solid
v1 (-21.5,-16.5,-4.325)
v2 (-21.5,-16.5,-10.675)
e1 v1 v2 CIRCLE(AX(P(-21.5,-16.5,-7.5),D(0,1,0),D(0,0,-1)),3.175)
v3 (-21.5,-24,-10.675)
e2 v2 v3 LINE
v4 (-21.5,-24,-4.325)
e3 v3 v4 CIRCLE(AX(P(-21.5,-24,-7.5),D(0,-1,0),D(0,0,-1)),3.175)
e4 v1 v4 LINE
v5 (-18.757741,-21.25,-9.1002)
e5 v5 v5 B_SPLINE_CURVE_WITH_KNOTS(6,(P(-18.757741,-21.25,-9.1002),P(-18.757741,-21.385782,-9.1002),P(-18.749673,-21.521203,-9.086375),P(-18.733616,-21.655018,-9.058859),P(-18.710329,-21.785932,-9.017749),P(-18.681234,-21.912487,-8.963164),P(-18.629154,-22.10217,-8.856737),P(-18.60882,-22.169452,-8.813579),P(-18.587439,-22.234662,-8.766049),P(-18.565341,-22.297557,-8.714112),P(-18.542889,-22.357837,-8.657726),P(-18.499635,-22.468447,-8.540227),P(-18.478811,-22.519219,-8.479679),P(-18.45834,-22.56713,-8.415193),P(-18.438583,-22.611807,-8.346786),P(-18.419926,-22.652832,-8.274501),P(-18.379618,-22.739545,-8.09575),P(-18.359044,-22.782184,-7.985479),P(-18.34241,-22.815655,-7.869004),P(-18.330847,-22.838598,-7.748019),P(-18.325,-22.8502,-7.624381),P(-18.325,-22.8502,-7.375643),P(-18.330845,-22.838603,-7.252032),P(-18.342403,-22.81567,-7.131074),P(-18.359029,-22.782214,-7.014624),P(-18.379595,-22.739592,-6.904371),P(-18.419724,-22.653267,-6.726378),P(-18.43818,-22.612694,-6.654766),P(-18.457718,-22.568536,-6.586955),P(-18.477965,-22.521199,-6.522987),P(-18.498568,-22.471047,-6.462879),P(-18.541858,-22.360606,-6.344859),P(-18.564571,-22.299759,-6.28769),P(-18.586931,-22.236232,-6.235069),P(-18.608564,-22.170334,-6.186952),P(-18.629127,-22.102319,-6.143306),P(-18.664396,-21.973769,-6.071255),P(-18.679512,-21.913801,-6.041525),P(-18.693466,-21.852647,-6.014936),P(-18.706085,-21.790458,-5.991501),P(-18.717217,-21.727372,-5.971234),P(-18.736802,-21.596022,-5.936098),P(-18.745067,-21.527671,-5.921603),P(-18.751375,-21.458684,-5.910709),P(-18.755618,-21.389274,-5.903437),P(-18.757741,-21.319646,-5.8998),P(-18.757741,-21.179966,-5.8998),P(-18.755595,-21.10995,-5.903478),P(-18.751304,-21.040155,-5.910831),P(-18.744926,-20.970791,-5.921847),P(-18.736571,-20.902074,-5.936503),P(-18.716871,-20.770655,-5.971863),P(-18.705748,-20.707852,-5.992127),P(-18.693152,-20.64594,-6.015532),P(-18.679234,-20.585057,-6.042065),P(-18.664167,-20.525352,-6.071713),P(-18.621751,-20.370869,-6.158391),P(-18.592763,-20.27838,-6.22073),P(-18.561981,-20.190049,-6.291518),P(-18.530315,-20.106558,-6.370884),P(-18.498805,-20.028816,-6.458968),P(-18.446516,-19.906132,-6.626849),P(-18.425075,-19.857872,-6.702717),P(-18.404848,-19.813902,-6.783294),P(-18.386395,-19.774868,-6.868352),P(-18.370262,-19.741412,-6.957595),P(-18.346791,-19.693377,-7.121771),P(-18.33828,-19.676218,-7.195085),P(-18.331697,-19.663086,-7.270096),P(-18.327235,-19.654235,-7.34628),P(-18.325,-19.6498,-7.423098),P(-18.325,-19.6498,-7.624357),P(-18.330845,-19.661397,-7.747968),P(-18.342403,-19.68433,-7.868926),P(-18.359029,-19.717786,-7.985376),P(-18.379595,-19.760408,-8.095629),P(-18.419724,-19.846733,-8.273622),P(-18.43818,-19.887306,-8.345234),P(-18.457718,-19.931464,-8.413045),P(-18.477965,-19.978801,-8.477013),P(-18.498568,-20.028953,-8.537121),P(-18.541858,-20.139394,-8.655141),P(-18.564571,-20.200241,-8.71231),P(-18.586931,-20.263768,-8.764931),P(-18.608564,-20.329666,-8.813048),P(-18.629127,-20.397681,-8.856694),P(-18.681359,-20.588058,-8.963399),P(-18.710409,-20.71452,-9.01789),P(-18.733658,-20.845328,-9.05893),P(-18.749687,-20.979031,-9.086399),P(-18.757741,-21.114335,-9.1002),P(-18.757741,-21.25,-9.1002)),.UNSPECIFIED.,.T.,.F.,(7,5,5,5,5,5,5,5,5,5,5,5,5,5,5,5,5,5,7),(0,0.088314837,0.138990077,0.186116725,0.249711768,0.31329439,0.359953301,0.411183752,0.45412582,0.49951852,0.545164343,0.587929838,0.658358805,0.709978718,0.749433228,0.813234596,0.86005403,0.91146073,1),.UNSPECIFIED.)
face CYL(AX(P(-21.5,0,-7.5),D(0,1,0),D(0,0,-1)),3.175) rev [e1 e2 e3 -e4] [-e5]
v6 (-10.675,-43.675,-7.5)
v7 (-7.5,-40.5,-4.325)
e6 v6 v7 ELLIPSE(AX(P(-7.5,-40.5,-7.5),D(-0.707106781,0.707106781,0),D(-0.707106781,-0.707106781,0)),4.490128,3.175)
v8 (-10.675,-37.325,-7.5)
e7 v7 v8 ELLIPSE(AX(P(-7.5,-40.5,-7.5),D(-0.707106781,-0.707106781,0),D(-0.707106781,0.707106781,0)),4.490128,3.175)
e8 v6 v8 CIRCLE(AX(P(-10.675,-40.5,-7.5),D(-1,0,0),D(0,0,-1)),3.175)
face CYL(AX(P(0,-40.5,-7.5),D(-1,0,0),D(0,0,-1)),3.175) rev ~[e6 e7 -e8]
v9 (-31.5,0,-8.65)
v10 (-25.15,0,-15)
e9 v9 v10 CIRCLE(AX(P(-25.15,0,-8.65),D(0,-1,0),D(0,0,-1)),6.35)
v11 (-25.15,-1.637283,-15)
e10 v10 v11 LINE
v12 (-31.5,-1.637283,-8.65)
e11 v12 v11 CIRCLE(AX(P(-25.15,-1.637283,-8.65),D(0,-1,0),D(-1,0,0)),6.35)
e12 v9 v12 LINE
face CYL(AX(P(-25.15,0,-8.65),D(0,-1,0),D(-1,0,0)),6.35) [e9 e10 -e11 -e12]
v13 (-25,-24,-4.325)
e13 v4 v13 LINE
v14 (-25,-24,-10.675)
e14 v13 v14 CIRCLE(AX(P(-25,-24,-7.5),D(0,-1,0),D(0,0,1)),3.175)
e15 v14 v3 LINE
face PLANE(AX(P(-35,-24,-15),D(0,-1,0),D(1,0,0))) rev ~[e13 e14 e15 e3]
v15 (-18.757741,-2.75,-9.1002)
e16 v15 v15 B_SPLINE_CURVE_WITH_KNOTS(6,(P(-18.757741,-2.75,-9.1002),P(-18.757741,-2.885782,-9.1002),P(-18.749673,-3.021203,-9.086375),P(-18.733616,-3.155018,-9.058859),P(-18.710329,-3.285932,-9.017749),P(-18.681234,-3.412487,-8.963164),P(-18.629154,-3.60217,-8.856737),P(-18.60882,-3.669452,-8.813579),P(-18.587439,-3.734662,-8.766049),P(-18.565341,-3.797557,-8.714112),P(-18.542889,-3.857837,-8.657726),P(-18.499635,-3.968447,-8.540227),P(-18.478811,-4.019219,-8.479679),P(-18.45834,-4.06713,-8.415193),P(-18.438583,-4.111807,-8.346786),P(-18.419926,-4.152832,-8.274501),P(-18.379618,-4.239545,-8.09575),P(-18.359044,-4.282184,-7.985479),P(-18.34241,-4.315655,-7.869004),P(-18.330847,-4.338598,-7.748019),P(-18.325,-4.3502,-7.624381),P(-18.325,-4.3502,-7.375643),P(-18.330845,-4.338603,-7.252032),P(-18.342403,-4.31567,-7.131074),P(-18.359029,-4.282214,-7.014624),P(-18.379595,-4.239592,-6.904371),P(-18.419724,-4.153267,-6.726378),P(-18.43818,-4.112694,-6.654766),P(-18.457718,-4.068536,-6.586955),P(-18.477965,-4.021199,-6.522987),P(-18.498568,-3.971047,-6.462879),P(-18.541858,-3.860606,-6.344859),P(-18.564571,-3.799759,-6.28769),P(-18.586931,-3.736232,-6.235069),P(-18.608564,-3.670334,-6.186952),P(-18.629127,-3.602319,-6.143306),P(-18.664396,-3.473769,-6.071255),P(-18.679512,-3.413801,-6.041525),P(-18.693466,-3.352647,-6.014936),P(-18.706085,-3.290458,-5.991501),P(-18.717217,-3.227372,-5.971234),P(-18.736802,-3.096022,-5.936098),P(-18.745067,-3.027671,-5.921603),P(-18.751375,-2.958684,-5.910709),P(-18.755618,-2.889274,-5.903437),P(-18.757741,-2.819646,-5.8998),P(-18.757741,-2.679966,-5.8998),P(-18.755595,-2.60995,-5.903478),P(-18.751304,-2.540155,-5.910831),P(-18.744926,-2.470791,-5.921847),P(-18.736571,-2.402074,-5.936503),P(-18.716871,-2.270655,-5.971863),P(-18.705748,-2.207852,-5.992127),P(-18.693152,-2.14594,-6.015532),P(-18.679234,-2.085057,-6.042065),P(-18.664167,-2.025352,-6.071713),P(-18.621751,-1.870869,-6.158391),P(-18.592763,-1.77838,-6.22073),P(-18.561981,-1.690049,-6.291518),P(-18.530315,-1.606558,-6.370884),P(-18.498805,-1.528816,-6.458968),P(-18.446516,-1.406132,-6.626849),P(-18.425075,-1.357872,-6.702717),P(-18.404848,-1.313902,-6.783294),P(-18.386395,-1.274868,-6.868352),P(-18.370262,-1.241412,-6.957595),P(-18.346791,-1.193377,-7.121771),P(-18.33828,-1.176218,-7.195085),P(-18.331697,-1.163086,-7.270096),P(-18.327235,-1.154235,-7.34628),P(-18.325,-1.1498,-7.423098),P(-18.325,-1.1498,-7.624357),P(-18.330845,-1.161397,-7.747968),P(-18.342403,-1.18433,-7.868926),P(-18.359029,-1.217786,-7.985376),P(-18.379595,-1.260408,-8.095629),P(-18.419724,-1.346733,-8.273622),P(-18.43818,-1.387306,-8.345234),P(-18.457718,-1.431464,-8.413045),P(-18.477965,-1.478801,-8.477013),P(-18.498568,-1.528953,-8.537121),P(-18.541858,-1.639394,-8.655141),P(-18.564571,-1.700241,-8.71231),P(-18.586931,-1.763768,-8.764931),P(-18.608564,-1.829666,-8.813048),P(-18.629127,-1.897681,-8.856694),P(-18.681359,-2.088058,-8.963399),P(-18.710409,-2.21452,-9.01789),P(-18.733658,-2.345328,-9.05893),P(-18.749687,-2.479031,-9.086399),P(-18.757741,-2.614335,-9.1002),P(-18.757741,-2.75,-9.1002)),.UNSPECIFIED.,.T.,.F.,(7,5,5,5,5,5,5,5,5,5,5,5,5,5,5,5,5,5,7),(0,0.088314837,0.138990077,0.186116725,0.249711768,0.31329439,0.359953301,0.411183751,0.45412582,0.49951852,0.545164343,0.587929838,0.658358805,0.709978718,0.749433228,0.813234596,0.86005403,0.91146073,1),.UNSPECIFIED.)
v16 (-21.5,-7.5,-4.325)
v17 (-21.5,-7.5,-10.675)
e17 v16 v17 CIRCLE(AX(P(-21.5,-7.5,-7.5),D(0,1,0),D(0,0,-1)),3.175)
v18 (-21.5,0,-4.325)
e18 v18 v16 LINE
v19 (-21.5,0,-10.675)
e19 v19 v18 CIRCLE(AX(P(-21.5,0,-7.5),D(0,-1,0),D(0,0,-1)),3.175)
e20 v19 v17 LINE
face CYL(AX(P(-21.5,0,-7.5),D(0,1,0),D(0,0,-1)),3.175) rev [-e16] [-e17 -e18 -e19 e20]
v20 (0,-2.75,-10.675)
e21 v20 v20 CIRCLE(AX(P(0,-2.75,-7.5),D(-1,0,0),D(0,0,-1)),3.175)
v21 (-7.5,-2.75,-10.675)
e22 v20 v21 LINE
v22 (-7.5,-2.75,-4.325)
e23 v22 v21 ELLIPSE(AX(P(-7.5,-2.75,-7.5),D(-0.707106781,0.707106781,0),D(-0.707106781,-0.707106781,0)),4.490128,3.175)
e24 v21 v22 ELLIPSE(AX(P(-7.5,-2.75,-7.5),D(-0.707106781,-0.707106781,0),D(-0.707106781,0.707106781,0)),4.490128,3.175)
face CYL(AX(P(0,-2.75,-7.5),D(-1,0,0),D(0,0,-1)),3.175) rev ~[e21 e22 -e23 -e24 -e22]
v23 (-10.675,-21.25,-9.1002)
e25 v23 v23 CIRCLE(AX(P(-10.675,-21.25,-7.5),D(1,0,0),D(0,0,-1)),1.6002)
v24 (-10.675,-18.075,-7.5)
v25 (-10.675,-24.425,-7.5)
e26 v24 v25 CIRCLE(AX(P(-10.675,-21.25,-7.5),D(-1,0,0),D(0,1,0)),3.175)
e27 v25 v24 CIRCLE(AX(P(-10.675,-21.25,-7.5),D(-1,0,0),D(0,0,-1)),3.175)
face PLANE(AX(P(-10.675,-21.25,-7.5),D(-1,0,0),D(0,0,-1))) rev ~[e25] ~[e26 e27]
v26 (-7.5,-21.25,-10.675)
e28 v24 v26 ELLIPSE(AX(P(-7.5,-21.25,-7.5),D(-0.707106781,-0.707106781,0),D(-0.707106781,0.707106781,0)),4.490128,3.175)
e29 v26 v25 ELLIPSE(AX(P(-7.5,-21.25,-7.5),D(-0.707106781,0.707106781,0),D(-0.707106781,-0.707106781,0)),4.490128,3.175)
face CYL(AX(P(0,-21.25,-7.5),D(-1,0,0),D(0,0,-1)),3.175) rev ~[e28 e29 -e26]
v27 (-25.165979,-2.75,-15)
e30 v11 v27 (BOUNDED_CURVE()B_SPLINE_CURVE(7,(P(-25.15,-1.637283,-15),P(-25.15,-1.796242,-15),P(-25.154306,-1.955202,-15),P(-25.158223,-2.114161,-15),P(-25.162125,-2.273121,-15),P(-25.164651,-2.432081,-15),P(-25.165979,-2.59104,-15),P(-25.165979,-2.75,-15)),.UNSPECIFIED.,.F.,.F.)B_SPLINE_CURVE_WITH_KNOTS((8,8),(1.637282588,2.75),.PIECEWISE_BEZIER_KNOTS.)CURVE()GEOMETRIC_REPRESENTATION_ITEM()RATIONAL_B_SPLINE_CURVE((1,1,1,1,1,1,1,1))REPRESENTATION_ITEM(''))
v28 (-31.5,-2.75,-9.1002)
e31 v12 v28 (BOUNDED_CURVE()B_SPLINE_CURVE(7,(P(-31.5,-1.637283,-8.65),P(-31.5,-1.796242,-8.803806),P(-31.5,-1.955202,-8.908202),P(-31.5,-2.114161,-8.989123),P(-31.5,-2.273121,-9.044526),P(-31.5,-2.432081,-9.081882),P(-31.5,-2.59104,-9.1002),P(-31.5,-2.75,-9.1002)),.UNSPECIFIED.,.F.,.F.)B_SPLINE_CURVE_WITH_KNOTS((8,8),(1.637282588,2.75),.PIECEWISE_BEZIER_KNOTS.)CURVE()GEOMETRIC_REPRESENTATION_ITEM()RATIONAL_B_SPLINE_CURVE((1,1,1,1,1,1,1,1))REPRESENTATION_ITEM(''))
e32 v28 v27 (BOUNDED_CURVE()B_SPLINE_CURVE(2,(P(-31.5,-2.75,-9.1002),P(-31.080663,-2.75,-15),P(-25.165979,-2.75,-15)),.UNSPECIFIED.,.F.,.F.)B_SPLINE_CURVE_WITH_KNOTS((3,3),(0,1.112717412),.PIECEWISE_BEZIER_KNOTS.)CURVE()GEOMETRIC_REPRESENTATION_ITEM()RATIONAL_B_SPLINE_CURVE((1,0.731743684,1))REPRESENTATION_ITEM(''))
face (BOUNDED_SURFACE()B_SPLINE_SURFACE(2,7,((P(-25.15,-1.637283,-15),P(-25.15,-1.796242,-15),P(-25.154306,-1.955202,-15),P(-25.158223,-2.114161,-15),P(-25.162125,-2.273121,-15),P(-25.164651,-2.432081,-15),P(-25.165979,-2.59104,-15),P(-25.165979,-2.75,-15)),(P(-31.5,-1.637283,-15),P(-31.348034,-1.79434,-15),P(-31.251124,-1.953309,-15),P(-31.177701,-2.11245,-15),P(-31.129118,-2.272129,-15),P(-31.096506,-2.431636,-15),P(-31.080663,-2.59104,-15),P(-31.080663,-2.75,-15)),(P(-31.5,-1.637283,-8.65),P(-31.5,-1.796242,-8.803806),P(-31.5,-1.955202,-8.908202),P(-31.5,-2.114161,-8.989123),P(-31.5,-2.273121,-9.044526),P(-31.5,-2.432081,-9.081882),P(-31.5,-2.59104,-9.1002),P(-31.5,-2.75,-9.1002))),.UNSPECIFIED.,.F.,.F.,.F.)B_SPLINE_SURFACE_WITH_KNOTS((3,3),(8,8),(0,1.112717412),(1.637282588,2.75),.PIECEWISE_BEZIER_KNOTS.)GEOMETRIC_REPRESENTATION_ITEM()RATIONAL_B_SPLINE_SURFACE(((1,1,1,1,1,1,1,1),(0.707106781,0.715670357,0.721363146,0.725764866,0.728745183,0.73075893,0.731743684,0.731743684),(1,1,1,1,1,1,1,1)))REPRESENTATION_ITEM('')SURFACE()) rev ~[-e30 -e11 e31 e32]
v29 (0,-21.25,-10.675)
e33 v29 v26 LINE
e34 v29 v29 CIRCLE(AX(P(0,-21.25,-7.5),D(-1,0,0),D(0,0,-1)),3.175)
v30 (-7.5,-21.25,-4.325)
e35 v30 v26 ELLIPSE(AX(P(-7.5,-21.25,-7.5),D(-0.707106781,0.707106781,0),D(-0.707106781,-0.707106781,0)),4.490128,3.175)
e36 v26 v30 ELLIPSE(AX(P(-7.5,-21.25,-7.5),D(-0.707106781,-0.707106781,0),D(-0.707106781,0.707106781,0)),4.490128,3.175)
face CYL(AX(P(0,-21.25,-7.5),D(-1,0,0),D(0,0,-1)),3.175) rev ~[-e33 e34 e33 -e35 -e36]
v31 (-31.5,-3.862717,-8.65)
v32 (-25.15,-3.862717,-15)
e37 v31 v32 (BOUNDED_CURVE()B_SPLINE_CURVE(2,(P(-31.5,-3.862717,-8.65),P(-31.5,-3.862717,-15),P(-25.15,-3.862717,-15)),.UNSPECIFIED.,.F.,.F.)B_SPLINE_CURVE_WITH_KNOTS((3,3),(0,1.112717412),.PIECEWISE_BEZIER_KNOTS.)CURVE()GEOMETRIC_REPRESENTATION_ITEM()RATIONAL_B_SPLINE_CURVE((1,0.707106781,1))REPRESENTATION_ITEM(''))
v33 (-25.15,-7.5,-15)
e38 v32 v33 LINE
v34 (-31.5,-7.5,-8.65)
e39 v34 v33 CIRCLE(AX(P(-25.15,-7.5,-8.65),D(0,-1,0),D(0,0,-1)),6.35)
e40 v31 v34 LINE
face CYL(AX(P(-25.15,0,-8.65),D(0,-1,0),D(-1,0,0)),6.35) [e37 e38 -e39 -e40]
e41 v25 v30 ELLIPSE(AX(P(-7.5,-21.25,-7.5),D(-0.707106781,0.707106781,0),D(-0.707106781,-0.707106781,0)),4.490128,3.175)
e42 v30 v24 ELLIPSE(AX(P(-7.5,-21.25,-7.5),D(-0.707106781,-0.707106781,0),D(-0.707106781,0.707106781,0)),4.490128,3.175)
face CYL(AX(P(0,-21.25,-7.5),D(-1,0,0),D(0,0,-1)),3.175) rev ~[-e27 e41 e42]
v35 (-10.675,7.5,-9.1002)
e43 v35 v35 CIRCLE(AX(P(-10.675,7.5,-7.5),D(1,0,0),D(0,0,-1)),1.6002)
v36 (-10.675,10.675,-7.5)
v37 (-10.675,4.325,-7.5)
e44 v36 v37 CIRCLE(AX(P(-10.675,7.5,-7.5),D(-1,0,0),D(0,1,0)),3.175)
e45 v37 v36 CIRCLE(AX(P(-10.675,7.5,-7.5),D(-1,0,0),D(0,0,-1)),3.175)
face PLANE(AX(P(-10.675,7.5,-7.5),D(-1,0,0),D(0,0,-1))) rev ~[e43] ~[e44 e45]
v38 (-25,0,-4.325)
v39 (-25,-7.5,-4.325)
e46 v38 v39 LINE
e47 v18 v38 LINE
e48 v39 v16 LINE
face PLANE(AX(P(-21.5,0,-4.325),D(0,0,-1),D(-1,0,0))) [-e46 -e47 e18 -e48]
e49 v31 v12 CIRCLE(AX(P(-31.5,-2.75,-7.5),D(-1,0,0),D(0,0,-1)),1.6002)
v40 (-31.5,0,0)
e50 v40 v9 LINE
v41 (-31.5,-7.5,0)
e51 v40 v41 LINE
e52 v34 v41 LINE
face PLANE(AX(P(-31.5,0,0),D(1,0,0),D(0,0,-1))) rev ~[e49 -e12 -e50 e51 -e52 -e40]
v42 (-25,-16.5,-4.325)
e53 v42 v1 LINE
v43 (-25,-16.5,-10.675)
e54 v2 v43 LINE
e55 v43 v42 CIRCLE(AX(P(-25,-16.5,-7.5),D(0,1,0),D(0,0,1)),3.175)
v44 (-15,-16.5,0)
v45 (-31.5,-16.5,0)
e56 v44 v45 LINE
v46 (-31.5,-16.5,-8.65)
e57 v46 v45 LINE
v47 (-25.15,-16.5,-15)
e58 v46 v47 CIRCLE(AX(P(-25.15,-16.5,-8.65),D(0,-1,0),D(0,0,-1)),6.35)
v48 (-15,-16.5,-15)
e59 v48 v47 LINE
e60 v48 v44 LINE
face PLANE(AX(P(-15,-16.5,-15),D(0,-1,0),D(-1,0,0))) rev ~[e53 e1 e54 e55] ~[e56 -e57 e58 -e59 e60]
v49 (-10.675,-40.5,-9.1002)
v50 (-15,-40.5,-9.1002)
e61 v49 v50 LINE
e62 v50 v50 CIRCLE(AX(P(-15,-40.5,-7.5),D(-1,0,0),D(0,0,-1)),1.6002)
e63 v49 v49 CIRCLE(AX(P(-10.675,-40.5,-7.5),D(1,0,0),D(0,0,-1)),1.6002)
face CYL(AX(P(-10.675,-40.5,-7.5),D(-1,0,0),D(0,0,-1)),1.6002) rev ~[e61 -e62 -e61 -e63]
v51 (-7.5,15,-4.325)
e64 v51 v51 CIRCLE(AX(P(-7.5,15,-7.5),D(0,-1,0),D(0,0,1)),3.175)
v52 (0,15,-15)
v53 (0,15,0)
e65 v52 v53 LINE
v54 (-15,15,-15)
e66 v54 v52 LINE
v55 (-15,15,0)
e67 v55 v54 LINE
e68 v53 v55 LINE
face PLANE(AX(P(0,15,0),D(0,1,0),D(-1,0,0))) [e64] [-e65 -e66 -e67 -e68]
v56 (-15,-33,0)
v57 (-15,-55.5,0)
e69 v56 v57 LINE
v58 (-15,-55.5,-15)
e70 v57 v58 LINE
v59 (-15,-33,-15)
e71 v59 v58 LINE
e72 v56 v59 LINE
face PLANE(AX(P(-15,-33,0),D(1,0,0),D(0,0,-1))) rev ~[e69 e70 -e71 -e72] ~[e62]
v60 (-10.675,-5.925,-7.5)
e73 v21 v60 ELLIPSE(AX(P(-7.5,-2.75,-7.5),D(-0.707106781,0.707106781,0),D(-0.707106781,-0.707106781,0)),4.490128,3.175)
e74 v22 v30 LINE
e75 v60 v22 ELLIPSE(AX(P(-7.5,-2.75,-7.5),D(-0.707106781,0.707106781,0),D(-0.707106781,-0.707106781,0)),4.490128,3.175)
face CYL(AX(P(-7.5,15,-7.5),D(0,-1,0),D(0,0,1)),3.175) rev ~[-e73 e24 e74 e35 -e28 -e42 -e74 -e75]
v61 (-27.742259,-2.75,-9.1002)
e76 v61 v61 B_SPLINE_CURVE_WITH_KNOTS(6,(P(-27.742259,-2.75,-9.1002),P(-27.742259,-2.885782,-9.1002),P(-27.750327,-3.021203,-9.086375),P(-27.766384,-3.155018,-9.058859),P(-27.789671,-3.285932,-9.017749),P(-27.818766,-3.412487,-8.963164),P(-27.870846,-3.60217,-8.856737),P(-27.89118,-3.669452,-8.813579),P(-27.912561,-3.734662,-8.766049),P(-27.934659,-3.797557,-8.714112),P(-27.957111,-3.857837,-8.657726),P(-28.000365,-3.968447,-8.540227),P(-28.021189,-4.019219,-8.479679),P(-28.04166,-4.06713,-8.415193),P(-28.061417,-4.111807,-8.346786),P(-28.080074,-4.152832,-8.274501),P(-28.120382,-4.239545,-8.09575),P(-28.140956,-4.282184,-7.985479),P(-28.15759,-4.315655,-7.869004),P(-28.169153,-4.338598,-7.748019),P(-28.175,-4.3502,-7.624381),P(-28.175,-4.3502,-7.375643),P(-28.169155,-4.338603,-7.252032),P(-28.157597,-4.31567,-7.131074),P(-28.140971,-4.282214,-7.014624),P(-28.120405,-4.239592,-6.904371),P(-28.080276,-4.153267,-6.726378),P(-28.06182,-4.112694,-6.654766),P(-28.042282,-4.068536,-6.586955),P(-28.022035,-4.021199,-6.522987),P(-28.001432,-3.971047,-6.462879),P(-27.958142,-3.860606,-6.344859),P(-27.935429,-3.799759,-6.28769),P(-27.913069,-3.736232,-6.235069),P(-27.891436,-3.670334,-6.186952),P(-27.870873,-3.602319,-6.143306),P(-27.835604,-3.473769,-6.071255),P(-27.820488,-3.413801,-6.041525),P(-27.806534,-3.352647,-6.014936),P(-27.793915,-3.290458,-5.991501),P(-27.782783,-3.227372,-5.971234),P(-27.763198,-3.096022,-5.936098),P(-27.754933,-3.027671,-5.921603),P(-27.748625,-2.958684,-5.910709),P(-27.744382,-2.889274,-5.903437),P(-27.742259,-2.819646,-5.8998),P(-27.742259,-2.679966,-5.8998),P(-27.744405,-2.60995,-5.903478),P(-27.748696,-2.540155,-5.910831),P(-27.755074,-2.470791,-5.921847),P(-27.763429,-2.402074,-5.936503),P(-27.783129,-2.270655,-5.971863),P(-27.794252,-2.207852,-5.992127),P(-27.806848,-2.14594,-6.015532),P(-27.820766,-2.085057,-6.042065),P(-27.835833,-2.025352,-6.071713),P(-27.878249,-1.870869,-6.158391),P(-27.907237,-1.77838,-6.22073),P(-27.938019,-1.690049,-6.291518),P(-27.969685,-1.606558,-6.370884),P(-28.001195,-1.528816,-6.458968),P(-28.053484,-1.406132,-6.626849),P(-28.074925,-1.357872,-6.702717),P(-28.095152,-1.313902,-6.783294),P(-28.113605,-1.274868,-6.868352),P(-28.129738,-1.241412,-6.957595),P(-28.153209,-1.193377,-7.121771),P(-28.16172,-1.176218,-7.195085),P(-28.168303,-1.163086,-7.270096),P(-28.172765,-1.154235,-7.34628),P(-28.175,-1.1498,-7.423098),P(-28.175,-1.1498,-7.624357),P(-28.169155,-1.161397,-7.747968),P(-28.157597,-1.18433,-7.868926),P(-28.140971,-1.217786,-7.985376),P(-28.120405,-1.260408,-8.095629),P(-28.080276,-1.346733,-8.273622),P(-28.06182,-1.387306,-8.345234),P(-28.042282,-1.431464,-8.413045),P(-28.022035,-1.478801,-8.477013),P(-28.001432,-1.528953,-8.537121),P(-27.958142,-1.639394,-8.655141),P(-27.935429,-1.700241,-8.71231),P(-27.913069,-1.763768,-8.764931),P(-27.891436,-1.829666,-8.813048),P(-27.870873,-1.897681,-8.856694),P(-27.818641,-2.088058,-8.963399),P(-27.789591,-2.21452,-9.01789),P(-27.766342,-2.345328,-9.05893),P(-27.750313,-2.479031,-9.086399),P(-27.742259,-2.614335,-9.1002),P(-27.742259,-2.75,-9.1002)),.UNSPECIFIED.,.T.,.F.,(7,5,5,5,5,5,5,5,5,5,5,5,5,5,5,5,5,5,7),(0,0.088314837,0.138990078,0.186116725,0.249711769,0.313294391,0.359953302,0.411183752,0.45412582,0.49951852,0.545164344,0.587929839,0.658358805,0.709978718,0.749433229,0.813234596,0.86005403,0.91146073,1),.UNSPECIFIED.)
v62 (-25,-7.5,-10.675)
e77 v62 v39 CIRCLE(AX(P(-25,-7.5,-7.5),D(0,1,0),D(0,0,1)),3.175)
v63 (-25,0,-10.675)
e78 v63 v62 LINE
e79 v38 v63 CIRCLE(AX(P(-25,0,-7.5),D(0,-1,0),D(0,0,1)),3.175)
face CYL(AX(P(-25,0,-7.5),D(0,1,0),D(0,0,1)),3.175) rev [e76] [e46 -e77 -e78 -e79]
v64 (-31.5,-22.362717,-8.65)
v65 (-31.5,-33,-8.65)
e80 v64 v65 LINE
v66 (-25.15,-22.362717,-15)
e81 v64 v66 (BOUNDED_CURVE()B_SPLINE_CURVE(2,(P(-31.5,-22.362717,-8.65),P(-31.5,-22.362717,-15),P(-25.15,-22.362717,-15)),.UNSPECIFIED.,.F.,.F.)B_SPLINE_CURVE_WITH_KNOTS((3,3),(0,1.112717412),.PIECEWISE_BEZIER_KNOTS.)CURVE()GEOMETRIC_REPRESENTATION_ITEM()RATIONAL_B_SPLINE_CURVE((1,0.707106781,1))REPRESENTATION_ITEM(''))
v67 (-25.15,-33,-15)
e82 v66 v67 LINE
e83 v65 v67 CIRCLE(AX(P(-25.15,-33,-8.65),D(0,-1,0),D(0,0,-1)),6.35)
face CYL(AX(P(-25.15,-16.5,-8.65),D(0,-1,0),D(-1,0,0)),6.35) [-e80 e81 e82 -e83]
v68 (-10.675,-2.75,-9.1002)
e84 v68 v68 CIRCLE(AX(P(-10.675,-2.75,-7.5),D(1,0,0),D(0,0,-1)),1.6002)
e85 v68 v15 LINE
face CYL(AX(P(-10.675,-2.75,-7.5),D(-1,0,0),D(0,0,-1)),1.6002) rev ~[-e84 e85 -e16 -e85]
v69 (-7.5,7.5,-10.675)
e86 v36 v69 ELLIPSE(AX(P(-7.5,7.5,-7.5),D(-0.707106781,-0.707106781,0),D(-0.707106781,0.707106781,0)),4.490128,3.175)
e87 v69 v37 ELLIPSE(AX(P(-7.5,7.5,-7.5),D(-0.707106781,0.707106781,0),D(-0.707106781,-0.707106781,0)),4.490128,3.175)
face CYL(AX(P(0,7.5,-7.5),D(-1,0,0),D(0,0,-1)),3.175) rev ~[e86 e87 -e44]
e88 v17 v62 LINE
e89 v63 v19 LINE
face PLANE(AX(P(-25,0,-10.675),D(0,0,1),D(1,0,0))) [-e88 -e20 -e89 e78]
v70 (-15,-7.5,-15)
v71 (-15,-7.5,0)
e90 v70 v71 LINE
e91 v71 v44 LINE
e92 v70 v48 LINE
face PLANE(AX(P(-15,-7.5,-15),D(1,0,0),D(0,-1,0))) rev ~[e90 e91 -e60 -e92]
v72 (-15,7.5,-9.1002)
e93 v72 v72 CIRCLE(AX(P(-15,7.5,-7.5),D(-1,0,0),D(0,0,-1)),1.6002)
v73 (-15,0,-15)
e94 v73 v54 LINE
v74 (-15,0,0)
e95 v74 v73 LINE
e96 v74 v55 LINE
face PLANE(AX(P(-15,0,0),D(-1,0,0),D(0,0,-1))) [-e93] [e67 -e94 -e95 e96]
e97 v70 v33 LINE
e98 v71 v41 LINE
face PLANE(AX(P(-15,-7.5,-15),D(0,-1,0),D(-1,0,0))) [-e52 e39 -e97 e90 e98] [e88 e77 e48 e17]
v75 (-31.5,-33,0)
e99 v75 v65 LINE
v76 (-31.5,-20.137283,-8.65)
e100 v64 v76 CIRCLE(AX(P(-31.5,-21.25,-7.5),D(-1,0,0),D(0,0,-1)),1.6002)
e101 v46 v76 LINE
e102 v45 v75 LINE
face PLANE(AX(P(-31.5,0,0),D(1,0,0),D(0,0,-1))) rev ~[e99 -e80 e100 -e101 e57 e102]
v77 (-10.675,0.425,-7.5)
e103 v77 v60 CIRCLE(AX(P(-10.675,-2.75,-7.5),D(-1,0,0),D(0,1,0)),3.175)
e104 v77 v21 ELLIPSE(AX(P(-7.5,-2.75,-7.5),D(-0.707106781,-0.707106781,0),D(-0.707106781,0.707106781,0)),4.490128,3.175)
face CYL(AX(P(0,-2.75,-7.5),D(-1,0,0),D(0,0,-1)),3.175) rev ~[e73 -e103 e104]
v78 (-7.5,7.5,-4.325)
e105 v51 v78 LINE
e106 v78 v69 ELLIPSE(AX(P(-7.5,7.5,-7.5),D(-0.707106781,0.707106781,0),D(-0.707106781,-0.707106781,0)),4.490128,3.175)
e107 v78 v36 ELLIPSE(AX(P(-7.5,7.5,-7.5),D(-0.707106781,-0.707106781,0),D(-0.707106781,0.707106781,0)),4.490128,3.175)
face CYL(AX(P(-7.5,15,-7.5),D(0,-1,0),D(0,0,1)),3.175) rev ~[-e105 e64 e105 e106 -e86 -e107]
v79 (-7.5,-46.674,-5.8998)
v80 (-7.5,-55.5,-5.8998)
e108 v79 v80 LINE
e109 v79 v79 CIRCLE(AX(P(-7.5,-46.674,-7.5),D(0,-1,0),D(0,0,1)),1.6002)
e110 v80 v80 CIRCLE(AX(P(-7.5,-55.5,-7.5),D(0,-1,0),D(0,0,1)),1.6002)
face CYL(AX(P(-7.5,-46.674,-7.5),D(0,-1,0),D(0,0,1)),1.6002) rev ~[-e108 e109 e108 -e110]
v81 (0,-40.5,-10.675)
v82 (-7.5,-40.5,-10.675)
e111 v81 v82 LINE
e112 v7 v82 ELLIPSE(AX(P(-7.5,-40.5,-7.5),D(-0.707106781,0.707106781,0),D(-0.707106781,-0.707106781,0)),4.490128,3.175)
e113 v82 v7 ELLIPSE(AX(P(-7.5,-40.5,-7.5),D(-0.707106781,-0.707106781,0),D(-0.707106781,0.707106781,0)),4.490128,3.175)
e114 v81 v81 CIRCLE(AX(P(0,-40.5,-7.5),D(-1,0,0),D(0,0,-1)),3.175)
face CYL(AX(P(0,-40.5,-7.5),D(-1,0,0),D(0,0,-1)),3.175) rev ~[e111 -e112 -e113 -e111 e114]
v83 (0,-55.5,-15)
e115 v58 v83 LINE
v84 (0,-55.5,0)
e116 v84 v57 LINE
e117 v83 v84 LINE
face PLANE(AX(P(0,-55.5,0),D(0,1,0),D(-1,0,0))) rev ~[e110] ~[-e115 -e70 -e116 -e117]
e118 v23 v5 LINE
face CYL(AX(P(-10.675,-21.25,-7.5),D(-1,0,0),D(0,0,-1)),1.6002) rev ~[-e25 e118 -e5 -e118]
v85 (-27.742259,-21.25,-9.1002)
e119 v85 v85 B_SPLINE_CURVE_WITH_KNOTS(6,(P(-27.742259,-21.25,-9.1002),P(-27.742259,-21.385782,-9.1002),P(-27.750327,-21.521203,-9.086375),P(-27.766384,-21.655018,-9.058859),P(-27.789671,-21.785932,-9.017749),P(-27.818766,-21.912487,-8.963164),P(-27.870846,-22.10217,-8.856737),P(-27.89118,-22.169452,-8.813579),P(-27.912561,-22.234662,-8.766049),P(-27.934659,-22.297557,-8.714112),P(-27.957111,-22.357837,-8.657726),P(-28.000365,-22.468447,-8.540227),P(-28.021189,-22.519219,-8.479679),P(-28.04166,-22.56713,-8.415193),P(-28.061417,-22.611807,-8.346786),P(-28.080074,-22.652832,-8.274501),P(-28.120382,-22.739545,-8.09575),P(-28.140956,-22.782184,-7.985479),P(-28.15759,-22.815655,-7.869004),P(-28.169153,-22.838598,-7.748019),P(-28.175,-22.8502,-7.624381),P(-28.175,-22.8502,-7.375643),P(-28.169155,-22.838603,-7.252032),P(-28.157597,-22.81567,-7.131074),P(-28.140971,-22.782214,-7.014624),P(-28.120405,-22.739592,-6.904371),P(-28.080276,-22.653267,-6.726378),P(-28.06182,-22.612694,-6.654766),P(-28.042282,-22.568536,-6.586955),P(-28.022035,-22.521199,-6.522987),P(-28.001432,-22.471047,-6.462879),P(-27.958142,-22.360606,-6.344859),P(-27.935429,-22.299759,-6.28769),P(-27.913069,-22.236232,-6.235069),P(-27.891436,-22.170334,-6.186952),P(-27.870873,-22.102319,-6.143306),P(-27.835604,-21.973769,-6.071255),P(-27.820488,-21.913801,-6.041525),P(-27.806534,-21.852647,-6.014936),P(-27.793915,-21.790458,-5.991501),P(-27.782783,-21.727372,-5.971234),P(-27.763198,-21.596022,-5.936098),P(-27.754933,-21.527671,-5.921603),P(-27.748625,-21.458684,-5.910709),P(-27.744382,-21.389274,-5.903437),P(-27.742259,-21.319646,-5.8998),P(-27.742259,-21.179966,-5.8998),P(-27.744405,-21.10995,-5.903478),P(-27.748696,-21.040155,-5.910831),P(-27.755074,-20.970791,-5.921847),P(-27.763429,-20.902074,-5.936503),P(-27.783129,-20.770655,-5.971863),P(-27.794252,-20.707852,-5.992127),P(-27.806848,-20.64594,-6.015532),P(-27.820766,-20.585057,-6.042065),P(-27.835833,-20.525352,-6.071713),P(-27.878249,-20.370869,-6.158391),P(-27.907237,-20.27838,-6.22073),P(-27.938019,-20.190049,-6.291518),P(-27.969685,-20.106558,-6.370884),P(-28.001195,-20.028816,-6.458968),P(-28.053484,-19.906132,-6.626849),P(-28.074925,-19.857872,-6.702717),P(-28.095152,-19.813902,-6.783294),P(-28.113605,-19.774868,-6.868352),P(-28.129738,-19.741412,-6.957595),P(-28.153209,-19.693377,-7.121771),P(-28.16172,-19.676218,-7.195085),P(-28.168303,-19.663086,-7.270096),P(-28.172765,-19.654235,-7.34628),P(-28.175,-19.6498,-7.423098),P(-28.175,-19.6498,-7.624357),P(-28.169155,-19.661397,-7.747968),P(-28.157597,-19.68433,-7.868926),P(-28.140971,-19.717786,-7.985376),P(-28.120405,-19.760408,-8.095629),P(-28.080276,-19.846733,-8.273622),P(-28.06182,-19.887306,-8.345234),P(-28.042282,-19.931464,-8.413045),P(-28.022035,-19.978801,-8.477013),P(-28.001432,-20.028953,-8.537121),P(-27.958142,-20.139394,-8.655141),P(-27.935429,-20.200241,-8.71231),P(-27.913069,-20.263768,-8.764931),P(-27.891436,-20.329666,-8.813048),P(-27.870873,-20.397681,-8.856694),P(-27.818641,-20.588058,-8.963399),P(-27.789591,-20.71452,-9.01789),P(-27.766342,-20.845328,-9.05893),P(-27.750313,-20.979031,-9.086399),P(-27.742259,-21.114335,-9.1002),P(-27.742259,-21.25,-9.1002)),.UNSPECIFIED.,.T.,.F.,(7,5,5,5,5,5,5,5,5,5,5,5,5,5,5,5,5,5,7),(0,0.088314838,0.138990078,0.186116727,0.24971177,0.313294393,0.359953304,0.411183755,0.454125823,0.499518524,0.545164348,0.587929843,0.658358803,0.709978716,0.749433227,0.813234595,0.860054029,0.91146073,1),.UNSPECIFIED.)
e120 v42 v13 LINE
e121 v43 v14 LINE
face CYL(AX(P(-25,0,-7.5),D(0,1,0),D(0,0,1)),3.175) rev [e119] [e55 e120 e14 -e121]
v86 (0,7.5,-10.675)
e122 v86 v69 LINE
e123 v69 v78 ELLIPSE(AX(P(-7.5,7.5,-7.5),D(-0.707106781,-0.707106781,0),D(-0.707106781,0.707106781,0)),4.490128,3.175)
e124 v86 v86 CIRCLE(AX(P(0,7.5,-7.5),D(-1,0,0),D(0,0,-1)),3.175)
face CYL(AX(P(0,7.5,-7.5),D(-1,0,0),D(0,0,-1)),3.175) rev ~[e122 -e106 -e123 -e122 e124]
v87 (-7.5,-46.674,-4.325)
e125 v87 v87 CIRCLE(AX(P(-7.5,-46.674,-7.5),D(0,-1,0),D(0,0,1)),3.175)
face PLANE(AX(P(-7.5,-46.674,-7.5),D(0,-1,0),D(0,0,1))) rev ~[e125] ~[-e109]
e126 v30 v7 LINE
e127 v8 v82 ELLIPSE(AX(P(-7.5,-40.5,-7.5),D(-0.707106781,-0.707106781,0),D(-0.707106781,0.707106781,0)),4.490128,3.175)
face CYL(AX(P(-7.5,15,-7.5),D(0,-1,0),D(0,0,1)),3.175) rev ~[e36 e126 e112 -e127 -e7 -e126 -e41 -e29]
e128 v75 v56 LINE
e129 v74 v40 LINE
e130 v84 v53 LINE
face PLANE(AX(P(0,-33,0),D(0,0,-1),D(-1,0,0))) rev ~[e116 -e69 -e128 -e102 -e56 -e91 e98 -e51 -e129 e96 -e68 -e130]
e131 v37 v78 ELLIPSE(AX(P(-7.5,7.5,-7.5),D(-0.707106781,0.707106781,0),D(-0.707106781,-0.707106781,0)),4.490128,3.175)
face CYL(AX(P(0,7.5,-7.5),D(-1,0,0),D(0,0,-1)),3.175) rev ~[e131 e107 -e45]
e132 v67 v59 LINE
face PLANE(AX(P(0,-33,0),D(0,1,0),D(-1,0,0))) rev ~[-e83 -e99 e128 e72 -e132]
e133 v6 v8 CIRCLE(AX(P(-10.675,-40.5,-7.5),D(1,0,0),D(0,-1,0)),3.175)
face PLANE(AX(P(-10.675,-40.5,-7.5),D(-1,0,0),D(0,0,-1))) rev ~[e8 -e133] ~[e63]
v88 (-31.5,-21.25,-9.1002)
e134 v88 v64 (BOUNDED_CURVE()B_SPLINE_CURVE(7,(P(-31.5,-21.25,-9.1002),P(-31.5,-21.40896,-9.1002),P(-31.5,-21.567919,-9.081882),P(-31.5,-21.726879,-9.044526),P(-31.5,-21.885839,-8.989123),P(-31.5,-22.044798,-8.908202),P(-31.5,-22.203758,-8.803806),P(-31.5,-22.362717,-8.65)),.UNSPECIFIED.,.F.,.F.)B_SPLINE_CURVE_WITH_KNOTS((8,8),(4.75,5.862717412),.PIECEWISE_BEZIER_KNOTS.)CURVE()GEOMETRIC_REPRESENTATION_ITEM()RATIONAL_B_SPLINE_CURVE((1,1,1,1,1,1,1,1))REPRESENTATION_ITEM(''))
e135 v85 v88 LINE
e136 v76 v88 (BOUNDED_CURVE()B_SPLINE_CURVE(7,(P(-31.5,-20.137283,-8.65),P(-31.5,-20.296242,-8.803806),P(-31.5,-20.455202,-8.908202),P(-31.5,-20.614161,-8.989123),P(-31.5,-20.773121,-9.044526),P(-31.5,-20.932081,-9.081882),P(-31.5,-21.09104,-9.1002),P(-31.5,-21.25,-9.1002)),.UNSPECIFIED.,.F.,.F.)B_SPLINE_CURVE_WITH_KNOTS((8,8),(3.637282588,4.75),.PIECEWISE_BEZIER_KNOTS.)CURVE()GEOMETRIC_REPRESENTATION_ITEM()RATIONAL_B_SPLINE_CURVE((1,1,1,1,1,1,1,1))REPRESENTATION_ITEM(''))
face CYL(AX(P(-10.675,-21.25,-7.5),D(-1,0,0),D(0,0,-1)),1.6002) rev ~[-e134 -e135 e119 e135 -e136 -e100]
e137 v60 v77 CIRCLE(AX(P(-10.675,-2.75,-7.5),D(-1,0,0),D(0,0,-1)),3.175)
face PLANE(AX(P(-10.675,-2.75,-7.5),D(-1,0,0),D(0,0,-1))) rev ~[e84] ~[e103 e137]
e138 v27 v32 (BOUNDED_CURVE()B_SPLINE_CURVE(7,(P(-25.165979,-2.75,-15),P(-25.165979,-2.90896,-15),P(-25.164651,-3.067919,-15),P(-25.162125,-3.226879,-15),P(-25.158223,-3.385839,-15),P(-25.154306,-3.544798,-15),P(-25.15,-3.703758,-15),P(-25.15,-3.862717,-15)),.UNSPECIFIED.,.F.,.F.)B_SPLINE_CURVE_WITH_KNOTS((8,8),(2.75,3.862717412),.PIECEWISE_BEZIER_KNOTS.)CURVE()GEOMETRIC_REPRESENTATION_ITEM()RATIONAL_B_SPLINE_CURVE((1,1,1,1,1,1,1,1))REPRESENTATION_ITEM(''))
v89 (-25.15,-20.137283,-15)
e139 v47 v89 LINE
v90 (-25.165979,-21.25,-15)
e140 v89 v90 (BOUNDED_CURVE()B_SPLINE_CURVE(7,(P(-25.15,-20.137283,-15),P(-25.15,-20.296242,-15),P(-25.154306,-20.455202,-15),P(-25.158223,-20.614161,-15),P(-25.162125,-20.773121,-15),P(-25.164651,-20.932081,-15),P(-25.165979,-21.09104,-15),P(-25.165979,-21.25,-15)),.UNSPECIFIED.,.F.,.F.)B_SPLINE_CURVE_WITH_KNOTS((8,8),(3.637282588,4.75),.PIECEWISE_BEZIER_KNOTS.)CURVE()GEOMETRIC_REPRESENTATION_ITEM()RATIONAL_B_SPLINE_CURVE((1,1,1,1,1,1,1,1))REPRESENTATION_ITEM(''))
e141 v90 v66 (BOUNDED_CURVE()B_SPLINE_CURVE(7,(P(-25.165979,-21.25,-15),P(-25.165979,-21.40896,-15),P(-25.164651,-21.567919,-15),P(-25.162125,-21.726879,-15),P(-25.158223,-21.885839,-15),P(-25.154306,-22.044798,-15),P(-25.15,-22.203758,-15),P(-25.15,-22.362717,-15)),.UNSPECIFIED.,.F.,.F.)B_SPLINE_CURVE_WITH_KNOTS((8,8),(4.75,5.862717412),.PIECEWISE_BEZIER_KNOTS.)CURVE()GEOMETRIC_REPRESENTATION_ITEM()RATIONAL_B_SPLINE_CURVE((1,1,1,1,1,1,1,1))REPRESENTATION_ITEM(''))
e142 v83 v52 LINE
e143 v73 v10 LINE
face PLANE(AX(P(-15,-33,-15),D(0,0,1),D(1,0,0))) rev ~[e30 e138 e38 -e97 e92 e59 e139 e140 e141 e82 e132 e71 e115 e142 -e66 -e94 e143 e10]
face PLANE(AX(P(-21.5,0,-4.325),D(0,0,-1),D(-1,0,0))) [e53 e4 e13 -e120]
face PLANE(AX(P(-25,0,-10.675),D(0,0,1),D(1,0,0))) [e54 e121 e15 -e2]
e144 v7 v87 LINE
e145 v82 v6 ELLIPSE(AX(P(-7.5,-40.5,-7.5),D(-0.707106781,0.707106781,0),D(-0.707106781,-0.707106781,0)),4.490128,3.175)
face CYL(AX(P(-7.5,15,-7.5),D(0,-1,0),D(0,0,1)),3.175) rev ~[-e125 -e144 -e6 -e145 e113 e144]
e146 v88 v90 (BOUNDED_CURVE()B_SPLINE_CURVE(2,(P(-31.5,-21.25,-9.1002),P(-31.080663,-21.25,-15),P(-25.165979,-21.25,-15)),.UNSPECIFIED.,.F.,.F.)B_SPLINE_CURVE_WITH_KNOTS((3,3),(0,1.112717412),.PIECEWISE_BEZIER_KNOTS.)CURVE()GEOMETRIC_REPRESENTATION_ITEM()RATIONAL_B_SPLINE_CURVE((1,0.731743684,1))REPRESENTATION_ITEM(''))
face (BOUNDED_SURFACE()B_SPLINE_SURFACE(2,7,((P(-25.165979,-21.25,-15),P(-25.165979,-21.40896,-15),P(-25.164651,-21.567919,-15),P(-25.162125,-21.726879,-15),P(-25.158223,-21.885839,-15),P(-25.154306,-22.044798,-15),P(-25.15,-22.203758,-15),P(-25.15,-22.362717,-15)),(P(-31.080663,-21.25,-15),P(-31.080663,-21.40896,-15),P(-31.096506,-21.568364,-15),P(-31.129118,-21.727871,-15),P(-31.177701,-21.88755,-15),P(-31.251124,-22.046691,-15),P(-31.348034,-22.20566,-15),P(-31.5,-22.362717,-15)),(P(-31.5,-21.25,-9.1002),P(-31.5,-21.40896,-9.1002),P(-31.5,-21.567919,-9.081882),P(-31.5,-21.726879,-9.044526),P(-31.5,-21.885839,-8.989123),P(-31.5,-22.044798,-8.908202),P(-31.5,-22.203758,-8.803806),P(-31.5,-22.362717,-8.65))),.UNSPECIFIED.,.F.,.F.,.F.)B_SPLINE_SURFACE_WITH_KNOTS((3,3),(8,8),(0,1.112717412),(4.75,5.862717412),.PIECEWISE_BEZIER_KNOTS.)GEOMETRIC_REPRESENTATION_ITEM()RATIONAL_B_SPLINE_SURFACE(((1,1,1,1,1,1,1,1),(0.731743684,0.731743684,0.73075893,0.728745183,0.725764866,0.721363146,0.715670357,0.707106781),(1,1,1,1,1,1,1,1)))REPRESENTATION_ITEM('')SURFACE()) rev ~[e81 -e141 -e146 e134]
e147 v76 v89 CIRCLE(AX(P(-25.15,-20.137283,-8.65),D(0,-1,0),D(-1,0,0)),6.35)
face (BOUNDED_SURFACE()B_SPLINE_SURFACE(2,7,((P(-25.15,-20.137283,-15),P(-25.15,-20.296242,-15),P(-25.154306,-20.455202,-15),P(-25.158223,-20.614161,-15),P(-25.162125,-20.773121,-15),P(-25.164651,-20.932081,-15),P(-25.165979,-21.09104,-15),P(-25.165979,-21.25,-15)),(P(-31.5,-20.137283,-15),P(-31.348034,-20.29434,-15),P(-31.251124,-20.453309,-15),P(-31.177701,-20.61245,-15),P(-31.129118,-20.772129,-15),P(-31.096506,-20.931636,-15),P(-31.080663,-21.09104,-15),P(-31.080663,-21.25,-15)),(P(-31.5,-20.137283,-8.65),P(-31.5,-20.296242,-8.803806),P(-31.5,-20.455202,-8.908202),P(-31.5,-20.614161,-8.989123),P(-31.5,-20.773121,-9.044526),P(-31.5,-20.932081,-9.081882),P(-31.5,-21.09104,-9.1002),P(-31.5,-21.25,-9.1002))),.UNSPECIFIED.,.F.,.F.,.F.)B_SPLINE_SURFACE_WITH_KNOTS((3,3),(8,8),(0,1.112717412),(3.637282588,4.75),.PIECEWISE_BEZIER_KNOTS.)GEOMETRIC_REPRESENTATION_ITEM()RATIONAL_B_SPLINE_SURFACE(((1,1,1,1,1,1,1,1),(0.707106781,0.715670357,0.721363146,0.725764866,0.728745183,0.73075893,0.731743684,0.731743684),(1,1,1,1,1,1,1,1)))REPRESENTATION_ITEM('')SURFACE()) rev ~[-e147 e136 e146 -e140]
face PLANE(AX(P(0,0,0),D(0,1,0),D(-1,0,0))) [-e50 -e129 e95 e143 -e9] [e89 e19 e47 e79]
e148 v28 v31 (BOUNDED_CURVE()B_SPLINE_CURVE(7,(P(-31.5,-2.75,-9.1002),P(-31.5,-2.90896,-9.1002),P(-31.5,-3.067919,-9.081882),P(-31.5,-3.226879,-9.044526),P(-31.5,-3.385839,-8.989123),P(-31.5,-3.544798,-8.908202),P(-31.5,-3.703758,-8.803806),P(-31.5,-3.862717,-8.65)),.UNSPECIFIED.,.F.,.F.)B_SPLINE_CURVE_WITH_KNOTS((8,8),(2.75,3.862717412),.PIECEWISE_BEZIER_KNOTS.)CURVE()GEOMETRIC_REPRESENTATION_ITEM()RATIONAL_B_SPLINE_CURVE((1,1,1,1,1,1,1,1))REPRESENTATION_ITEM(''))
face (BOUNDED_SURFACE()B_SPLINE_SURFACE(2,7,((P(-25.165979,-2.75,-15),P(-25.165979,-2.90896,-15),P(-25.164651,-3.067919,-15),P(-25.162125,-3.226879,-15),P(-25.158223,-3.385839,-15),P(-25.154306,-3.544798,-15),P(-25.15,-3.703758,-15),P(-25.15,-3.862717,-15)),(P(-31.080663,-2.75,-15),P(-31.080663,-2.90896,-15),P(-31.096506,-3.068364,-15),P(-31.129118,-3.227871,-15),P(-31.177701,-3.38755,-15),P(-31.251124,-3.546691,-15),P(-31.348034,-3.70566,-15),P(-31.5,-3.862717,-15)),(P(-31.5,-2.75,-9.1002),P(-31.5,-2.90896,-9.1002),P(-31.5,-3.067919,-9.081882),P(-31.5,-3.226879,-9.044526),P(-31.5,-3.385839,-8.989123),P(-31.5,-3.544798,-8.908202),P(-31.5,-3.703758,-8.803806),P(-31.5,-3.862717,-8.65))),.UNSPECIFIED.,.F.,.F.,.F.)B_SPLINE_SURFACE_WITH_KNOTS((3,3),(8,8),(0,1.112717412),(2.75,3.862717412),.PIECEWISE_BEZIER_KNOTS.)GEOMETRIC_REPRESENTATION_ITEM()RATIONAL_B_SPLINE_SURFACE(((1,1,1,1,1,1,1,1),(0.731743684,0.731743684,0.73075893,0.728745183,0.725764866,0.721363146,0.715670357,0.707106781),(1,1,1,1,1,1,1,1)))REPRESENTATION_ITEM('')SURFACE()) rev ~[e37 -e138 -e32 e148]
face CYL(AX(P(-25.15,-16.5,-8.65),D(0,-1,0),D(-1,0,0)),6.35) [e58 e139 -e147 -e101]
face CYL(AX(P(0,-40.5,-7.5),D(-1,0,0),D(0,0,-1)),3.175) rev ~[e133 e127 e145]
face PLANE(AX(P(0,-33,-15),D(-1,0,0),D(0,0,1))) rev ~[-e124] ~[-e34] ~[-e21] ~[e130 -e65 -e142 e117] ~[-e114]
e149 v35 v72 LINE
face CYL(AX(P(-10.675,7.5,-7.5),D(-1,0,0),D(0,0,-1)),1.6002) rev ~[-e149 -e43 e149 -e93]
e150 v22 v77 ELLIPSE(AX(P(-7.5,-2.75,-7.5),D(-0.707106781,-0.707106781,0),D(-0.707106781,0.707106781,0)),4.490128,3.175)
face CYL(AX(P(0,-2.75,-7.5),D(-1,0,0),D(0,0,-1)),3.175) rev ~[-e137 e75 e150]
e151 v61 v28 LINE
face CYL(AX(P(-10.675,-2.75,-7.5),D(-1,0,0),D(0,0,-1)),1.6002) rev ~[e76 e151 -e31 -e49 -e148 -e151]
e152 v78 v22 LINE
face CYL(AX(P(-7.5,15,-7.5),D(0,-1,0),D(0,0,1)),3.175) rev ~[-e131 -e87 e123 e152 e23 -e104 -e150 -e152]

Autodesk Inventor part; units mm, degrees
ref_plane "YZ Plane" through (0, 0, 0) normal (1, 0, 0) x (0, 1, 0)
ref_plane "XZ Plane" through (0, 0, 0) normal (0, 1, 0) x (-1, 0, 0)
ref_plane "XY Plane" through (0, 0, 0) normal (0, 0, 1) x (1, 0, 0)
sketch "Base Profile" plane through (0, 0, 0) normal (0, 1, 0) x (-1, 0, 0)
  line L0 (0, 0) -> (15, 0)
  line L1 (15, 0) -> (15, -15)
  line L2 (15, -15) -> (0, -15)
  line L3 (0, -15) -> (0, 0)
  line L4 (15, 0) -> (31.5, 0)
  line L5 (31.5, 0) -> (31.5, -15)
  line L6 (31.5, -15) -> (15, -15)
  line L7 (15, -15) -> (15, 0)
  dimension "d164" = 15
  dimension "d165" = 15
  dimension "d166" = 16.5
  dimension "d167" = 15
extrude "Stock" add sketch "Base Profile" against normal blind 33
extrude "Top Extrusion Post" add sketch "Base Profile" along normal blind 15 contours L0 L1 L2 L3
extrude "Lower Extrusion Post" add sketch "Base Profile" against normal blind 22.5 from surface at -33 contours L0 L1 L2 L3
sketch "Sketch27" plane through (0, -33, -15) normal (0, 0, -1) x (-1, 0, 0)
  line L0 (0, -22.5) -> (0, 48) projected
  line L1 (31.5, 0) -> (15, 0) projected
  line L2 (31.5, 33) -> (31.5, 0) projected
  line L3 (15, 33) -> (31.5, 33) projected
  line L4 (15, 33) -> (15, 48) projected
  line L5 (0, 48) -> (15, 48) projected
  line L6 (0, 25.5) -> (31.5, 25.5)
  line L7 (0, 16.5) -> (31.5, 16.5)
  line L8 (15, 33) -> (15, 0)
  line L9 (0, -22.5) -> (15, -22.5) projected
  line L10 (15, 0) -> (15, -22.5) projected
  point P0 (15, 25.5)
  point P1 (15, 16.5)
  dimension "d373" = 7.5
  dimension "d374" = 16.5
extrude "Lower Half Cut" cut sketch "Sketch27" against normal through all contours L8 L6 L2 L7
sketch "Bottom Profile" plane through (-35, -33, -15) normal (0, -1, 0) x (1, 0, 0)
  line L0 (13.5, 7.5) -> (10, 7.5) construction
  line L1 (13.5, 10.675) -> (10, 10.675)
  line L2 (10, 4.325) -> (13.5, 4.325)
  arc A0 (13.5, 4.325) -> (13.5, 10.675) centre (13.5, 7.5) ccw
  arc A1 (10, 10.675) -> (10, 4.325) centre (10, 7.5) ccw
  line L3 (3.5, 15) -> (3.5, 0) projected
  line L4 (35, 15) -> (3.5, 15) projected
  point P0 (11.75, 7.5)
  dimension "d291" = 3.5
  dimension "d292" = 6.35
  dimension "d293" = 6.5
  dimension "d294" = 7.5
extrude "Slot Cut" cut sketch "Bottom Profile" along normal blind 24 from surface at -33
sketch "Front Hole Pattern" plane through (0, -33, 0) normal (1, 0, 0) x (0, 0, -1)
  line L0 (0, 0) -> (0, 48) construction
  circle A0 centre (7.5, 40.5) radius 3.175
  line L1 (0, 48) -> (15, 48) construction
  circle A1 centre (7.5, 30.25) radius 3.175
  circle A2 centre (7.5, -7.5) radius 3.175
  circle A3 centre (7.5, 11.75) radius 3.175
  line L2 (15, -22.5) -> (15, 48) construction
  line L3 (0, 33) -> (15, 33) construction
  line L4 (0, 25.5) -> (15, 25.5) construction
  line L5 (0, 16.5) -> (15, 16.5) construction
  line L6 (0, 27.5) -> (15, 27.5) construction
  line L7 (0, 14.5) -> (15, 14.5) construction
  line L8 (0, 9) -> (15, 9) construction
  line L9 (15, 0) -> (0, 0) construction
  dimension "d317" = 6.35
  dimension "d318" = 7.5
  dimension "d319" = 7.5
  dimension "d354" = 6.35
  dimension "d369" = 6.35
  dimension "d371" = 6.35
  dimension "d377" = 15
  dimension "d378" = 7.5
  dimension "d379" = 9
  dimension "d380" = 2
  dimension "d381" = 2.75
  dimension "d382" = 2
  dimension "d383" = 7.5
  dimension "d384" = 2.75
  dimension "d385" = 7.5
hole "Front Adjustment Hole" at (0, -2.75, -7.5) at (0, -21.25, -7.5) direction (-1, 0, 0) diameter 3.2004 end through all counterbore diameter 6.35 counterbore depth 10.675 clearance for "Socket Head Cap Screw" size "M3" standard "Ansi Metric M Profile"
hole "Front Mounting Hole" at (0, 7.5, -7.5) at (0, -40.5, -7.5) direction (-1, 0, 0) diameter 3.2004 end through all counterbore diameter 6.35 counterbore depth 10.675 clearance for "Socket Head Cap Screw" size "M3" standard "Ansi Metric M Profile"
sketch "Sketch33" plane through (0, 15, 0) normal (0, 1, 0) x (1, 0, 0)
  line L0 (-15, 15) -> (-15, 0) projected
  line L1 (-15, 0) -> (0, 0) projected
  line L2 (0, 0) -> (0, 15) projected
  line L3 (0, 15) -> (-15, 15) projected
  circle A0 centre (-7.5, 7.5) radius 3.175
  dimension "d340" = 6.35
  dimension "d341" = 7.5
  dimension "d342" = 7.5
hole "Top Mounting Hole" at (-7.5, 15, -7.5) direction (0, -1, 0) diameter 3.2004 end through all counterbore diameter 6.35 counterbore depth 61.674 clearance for "Socket Head Cap Screw" size "M3" standard "Ansi Metric M Profile"
fillet "Fillet2" radius 6.35 2 edges at (-31.5, -3.75, -15) (-31.5, -24.75, -15)
equation "\"d164\" = extrusionWidth"
equation "\"d165\" = extrusionWidth"
equation "\"d166\" = idlerLength"
equation "\"d167\" = d165"
equation "\"d168\" = extrusionOffset"
equation "\"extrusionWidth\" = 15"
equation "\"idlerLength\" = 16.5"
equation "\"bearingOffsetFromBottom\" = 7.5"
equation "\"extrusionOffset\" = 33"
equation "\"bearingStackHeight\" = 9"
equation "\"bearingSlotLength\" = 3.5"
equation "\"bearingClearance\" = 13"
equation "\"pinSupportLength\" = 2"
properties part number "A Idler" material "Aluminum 6061"
